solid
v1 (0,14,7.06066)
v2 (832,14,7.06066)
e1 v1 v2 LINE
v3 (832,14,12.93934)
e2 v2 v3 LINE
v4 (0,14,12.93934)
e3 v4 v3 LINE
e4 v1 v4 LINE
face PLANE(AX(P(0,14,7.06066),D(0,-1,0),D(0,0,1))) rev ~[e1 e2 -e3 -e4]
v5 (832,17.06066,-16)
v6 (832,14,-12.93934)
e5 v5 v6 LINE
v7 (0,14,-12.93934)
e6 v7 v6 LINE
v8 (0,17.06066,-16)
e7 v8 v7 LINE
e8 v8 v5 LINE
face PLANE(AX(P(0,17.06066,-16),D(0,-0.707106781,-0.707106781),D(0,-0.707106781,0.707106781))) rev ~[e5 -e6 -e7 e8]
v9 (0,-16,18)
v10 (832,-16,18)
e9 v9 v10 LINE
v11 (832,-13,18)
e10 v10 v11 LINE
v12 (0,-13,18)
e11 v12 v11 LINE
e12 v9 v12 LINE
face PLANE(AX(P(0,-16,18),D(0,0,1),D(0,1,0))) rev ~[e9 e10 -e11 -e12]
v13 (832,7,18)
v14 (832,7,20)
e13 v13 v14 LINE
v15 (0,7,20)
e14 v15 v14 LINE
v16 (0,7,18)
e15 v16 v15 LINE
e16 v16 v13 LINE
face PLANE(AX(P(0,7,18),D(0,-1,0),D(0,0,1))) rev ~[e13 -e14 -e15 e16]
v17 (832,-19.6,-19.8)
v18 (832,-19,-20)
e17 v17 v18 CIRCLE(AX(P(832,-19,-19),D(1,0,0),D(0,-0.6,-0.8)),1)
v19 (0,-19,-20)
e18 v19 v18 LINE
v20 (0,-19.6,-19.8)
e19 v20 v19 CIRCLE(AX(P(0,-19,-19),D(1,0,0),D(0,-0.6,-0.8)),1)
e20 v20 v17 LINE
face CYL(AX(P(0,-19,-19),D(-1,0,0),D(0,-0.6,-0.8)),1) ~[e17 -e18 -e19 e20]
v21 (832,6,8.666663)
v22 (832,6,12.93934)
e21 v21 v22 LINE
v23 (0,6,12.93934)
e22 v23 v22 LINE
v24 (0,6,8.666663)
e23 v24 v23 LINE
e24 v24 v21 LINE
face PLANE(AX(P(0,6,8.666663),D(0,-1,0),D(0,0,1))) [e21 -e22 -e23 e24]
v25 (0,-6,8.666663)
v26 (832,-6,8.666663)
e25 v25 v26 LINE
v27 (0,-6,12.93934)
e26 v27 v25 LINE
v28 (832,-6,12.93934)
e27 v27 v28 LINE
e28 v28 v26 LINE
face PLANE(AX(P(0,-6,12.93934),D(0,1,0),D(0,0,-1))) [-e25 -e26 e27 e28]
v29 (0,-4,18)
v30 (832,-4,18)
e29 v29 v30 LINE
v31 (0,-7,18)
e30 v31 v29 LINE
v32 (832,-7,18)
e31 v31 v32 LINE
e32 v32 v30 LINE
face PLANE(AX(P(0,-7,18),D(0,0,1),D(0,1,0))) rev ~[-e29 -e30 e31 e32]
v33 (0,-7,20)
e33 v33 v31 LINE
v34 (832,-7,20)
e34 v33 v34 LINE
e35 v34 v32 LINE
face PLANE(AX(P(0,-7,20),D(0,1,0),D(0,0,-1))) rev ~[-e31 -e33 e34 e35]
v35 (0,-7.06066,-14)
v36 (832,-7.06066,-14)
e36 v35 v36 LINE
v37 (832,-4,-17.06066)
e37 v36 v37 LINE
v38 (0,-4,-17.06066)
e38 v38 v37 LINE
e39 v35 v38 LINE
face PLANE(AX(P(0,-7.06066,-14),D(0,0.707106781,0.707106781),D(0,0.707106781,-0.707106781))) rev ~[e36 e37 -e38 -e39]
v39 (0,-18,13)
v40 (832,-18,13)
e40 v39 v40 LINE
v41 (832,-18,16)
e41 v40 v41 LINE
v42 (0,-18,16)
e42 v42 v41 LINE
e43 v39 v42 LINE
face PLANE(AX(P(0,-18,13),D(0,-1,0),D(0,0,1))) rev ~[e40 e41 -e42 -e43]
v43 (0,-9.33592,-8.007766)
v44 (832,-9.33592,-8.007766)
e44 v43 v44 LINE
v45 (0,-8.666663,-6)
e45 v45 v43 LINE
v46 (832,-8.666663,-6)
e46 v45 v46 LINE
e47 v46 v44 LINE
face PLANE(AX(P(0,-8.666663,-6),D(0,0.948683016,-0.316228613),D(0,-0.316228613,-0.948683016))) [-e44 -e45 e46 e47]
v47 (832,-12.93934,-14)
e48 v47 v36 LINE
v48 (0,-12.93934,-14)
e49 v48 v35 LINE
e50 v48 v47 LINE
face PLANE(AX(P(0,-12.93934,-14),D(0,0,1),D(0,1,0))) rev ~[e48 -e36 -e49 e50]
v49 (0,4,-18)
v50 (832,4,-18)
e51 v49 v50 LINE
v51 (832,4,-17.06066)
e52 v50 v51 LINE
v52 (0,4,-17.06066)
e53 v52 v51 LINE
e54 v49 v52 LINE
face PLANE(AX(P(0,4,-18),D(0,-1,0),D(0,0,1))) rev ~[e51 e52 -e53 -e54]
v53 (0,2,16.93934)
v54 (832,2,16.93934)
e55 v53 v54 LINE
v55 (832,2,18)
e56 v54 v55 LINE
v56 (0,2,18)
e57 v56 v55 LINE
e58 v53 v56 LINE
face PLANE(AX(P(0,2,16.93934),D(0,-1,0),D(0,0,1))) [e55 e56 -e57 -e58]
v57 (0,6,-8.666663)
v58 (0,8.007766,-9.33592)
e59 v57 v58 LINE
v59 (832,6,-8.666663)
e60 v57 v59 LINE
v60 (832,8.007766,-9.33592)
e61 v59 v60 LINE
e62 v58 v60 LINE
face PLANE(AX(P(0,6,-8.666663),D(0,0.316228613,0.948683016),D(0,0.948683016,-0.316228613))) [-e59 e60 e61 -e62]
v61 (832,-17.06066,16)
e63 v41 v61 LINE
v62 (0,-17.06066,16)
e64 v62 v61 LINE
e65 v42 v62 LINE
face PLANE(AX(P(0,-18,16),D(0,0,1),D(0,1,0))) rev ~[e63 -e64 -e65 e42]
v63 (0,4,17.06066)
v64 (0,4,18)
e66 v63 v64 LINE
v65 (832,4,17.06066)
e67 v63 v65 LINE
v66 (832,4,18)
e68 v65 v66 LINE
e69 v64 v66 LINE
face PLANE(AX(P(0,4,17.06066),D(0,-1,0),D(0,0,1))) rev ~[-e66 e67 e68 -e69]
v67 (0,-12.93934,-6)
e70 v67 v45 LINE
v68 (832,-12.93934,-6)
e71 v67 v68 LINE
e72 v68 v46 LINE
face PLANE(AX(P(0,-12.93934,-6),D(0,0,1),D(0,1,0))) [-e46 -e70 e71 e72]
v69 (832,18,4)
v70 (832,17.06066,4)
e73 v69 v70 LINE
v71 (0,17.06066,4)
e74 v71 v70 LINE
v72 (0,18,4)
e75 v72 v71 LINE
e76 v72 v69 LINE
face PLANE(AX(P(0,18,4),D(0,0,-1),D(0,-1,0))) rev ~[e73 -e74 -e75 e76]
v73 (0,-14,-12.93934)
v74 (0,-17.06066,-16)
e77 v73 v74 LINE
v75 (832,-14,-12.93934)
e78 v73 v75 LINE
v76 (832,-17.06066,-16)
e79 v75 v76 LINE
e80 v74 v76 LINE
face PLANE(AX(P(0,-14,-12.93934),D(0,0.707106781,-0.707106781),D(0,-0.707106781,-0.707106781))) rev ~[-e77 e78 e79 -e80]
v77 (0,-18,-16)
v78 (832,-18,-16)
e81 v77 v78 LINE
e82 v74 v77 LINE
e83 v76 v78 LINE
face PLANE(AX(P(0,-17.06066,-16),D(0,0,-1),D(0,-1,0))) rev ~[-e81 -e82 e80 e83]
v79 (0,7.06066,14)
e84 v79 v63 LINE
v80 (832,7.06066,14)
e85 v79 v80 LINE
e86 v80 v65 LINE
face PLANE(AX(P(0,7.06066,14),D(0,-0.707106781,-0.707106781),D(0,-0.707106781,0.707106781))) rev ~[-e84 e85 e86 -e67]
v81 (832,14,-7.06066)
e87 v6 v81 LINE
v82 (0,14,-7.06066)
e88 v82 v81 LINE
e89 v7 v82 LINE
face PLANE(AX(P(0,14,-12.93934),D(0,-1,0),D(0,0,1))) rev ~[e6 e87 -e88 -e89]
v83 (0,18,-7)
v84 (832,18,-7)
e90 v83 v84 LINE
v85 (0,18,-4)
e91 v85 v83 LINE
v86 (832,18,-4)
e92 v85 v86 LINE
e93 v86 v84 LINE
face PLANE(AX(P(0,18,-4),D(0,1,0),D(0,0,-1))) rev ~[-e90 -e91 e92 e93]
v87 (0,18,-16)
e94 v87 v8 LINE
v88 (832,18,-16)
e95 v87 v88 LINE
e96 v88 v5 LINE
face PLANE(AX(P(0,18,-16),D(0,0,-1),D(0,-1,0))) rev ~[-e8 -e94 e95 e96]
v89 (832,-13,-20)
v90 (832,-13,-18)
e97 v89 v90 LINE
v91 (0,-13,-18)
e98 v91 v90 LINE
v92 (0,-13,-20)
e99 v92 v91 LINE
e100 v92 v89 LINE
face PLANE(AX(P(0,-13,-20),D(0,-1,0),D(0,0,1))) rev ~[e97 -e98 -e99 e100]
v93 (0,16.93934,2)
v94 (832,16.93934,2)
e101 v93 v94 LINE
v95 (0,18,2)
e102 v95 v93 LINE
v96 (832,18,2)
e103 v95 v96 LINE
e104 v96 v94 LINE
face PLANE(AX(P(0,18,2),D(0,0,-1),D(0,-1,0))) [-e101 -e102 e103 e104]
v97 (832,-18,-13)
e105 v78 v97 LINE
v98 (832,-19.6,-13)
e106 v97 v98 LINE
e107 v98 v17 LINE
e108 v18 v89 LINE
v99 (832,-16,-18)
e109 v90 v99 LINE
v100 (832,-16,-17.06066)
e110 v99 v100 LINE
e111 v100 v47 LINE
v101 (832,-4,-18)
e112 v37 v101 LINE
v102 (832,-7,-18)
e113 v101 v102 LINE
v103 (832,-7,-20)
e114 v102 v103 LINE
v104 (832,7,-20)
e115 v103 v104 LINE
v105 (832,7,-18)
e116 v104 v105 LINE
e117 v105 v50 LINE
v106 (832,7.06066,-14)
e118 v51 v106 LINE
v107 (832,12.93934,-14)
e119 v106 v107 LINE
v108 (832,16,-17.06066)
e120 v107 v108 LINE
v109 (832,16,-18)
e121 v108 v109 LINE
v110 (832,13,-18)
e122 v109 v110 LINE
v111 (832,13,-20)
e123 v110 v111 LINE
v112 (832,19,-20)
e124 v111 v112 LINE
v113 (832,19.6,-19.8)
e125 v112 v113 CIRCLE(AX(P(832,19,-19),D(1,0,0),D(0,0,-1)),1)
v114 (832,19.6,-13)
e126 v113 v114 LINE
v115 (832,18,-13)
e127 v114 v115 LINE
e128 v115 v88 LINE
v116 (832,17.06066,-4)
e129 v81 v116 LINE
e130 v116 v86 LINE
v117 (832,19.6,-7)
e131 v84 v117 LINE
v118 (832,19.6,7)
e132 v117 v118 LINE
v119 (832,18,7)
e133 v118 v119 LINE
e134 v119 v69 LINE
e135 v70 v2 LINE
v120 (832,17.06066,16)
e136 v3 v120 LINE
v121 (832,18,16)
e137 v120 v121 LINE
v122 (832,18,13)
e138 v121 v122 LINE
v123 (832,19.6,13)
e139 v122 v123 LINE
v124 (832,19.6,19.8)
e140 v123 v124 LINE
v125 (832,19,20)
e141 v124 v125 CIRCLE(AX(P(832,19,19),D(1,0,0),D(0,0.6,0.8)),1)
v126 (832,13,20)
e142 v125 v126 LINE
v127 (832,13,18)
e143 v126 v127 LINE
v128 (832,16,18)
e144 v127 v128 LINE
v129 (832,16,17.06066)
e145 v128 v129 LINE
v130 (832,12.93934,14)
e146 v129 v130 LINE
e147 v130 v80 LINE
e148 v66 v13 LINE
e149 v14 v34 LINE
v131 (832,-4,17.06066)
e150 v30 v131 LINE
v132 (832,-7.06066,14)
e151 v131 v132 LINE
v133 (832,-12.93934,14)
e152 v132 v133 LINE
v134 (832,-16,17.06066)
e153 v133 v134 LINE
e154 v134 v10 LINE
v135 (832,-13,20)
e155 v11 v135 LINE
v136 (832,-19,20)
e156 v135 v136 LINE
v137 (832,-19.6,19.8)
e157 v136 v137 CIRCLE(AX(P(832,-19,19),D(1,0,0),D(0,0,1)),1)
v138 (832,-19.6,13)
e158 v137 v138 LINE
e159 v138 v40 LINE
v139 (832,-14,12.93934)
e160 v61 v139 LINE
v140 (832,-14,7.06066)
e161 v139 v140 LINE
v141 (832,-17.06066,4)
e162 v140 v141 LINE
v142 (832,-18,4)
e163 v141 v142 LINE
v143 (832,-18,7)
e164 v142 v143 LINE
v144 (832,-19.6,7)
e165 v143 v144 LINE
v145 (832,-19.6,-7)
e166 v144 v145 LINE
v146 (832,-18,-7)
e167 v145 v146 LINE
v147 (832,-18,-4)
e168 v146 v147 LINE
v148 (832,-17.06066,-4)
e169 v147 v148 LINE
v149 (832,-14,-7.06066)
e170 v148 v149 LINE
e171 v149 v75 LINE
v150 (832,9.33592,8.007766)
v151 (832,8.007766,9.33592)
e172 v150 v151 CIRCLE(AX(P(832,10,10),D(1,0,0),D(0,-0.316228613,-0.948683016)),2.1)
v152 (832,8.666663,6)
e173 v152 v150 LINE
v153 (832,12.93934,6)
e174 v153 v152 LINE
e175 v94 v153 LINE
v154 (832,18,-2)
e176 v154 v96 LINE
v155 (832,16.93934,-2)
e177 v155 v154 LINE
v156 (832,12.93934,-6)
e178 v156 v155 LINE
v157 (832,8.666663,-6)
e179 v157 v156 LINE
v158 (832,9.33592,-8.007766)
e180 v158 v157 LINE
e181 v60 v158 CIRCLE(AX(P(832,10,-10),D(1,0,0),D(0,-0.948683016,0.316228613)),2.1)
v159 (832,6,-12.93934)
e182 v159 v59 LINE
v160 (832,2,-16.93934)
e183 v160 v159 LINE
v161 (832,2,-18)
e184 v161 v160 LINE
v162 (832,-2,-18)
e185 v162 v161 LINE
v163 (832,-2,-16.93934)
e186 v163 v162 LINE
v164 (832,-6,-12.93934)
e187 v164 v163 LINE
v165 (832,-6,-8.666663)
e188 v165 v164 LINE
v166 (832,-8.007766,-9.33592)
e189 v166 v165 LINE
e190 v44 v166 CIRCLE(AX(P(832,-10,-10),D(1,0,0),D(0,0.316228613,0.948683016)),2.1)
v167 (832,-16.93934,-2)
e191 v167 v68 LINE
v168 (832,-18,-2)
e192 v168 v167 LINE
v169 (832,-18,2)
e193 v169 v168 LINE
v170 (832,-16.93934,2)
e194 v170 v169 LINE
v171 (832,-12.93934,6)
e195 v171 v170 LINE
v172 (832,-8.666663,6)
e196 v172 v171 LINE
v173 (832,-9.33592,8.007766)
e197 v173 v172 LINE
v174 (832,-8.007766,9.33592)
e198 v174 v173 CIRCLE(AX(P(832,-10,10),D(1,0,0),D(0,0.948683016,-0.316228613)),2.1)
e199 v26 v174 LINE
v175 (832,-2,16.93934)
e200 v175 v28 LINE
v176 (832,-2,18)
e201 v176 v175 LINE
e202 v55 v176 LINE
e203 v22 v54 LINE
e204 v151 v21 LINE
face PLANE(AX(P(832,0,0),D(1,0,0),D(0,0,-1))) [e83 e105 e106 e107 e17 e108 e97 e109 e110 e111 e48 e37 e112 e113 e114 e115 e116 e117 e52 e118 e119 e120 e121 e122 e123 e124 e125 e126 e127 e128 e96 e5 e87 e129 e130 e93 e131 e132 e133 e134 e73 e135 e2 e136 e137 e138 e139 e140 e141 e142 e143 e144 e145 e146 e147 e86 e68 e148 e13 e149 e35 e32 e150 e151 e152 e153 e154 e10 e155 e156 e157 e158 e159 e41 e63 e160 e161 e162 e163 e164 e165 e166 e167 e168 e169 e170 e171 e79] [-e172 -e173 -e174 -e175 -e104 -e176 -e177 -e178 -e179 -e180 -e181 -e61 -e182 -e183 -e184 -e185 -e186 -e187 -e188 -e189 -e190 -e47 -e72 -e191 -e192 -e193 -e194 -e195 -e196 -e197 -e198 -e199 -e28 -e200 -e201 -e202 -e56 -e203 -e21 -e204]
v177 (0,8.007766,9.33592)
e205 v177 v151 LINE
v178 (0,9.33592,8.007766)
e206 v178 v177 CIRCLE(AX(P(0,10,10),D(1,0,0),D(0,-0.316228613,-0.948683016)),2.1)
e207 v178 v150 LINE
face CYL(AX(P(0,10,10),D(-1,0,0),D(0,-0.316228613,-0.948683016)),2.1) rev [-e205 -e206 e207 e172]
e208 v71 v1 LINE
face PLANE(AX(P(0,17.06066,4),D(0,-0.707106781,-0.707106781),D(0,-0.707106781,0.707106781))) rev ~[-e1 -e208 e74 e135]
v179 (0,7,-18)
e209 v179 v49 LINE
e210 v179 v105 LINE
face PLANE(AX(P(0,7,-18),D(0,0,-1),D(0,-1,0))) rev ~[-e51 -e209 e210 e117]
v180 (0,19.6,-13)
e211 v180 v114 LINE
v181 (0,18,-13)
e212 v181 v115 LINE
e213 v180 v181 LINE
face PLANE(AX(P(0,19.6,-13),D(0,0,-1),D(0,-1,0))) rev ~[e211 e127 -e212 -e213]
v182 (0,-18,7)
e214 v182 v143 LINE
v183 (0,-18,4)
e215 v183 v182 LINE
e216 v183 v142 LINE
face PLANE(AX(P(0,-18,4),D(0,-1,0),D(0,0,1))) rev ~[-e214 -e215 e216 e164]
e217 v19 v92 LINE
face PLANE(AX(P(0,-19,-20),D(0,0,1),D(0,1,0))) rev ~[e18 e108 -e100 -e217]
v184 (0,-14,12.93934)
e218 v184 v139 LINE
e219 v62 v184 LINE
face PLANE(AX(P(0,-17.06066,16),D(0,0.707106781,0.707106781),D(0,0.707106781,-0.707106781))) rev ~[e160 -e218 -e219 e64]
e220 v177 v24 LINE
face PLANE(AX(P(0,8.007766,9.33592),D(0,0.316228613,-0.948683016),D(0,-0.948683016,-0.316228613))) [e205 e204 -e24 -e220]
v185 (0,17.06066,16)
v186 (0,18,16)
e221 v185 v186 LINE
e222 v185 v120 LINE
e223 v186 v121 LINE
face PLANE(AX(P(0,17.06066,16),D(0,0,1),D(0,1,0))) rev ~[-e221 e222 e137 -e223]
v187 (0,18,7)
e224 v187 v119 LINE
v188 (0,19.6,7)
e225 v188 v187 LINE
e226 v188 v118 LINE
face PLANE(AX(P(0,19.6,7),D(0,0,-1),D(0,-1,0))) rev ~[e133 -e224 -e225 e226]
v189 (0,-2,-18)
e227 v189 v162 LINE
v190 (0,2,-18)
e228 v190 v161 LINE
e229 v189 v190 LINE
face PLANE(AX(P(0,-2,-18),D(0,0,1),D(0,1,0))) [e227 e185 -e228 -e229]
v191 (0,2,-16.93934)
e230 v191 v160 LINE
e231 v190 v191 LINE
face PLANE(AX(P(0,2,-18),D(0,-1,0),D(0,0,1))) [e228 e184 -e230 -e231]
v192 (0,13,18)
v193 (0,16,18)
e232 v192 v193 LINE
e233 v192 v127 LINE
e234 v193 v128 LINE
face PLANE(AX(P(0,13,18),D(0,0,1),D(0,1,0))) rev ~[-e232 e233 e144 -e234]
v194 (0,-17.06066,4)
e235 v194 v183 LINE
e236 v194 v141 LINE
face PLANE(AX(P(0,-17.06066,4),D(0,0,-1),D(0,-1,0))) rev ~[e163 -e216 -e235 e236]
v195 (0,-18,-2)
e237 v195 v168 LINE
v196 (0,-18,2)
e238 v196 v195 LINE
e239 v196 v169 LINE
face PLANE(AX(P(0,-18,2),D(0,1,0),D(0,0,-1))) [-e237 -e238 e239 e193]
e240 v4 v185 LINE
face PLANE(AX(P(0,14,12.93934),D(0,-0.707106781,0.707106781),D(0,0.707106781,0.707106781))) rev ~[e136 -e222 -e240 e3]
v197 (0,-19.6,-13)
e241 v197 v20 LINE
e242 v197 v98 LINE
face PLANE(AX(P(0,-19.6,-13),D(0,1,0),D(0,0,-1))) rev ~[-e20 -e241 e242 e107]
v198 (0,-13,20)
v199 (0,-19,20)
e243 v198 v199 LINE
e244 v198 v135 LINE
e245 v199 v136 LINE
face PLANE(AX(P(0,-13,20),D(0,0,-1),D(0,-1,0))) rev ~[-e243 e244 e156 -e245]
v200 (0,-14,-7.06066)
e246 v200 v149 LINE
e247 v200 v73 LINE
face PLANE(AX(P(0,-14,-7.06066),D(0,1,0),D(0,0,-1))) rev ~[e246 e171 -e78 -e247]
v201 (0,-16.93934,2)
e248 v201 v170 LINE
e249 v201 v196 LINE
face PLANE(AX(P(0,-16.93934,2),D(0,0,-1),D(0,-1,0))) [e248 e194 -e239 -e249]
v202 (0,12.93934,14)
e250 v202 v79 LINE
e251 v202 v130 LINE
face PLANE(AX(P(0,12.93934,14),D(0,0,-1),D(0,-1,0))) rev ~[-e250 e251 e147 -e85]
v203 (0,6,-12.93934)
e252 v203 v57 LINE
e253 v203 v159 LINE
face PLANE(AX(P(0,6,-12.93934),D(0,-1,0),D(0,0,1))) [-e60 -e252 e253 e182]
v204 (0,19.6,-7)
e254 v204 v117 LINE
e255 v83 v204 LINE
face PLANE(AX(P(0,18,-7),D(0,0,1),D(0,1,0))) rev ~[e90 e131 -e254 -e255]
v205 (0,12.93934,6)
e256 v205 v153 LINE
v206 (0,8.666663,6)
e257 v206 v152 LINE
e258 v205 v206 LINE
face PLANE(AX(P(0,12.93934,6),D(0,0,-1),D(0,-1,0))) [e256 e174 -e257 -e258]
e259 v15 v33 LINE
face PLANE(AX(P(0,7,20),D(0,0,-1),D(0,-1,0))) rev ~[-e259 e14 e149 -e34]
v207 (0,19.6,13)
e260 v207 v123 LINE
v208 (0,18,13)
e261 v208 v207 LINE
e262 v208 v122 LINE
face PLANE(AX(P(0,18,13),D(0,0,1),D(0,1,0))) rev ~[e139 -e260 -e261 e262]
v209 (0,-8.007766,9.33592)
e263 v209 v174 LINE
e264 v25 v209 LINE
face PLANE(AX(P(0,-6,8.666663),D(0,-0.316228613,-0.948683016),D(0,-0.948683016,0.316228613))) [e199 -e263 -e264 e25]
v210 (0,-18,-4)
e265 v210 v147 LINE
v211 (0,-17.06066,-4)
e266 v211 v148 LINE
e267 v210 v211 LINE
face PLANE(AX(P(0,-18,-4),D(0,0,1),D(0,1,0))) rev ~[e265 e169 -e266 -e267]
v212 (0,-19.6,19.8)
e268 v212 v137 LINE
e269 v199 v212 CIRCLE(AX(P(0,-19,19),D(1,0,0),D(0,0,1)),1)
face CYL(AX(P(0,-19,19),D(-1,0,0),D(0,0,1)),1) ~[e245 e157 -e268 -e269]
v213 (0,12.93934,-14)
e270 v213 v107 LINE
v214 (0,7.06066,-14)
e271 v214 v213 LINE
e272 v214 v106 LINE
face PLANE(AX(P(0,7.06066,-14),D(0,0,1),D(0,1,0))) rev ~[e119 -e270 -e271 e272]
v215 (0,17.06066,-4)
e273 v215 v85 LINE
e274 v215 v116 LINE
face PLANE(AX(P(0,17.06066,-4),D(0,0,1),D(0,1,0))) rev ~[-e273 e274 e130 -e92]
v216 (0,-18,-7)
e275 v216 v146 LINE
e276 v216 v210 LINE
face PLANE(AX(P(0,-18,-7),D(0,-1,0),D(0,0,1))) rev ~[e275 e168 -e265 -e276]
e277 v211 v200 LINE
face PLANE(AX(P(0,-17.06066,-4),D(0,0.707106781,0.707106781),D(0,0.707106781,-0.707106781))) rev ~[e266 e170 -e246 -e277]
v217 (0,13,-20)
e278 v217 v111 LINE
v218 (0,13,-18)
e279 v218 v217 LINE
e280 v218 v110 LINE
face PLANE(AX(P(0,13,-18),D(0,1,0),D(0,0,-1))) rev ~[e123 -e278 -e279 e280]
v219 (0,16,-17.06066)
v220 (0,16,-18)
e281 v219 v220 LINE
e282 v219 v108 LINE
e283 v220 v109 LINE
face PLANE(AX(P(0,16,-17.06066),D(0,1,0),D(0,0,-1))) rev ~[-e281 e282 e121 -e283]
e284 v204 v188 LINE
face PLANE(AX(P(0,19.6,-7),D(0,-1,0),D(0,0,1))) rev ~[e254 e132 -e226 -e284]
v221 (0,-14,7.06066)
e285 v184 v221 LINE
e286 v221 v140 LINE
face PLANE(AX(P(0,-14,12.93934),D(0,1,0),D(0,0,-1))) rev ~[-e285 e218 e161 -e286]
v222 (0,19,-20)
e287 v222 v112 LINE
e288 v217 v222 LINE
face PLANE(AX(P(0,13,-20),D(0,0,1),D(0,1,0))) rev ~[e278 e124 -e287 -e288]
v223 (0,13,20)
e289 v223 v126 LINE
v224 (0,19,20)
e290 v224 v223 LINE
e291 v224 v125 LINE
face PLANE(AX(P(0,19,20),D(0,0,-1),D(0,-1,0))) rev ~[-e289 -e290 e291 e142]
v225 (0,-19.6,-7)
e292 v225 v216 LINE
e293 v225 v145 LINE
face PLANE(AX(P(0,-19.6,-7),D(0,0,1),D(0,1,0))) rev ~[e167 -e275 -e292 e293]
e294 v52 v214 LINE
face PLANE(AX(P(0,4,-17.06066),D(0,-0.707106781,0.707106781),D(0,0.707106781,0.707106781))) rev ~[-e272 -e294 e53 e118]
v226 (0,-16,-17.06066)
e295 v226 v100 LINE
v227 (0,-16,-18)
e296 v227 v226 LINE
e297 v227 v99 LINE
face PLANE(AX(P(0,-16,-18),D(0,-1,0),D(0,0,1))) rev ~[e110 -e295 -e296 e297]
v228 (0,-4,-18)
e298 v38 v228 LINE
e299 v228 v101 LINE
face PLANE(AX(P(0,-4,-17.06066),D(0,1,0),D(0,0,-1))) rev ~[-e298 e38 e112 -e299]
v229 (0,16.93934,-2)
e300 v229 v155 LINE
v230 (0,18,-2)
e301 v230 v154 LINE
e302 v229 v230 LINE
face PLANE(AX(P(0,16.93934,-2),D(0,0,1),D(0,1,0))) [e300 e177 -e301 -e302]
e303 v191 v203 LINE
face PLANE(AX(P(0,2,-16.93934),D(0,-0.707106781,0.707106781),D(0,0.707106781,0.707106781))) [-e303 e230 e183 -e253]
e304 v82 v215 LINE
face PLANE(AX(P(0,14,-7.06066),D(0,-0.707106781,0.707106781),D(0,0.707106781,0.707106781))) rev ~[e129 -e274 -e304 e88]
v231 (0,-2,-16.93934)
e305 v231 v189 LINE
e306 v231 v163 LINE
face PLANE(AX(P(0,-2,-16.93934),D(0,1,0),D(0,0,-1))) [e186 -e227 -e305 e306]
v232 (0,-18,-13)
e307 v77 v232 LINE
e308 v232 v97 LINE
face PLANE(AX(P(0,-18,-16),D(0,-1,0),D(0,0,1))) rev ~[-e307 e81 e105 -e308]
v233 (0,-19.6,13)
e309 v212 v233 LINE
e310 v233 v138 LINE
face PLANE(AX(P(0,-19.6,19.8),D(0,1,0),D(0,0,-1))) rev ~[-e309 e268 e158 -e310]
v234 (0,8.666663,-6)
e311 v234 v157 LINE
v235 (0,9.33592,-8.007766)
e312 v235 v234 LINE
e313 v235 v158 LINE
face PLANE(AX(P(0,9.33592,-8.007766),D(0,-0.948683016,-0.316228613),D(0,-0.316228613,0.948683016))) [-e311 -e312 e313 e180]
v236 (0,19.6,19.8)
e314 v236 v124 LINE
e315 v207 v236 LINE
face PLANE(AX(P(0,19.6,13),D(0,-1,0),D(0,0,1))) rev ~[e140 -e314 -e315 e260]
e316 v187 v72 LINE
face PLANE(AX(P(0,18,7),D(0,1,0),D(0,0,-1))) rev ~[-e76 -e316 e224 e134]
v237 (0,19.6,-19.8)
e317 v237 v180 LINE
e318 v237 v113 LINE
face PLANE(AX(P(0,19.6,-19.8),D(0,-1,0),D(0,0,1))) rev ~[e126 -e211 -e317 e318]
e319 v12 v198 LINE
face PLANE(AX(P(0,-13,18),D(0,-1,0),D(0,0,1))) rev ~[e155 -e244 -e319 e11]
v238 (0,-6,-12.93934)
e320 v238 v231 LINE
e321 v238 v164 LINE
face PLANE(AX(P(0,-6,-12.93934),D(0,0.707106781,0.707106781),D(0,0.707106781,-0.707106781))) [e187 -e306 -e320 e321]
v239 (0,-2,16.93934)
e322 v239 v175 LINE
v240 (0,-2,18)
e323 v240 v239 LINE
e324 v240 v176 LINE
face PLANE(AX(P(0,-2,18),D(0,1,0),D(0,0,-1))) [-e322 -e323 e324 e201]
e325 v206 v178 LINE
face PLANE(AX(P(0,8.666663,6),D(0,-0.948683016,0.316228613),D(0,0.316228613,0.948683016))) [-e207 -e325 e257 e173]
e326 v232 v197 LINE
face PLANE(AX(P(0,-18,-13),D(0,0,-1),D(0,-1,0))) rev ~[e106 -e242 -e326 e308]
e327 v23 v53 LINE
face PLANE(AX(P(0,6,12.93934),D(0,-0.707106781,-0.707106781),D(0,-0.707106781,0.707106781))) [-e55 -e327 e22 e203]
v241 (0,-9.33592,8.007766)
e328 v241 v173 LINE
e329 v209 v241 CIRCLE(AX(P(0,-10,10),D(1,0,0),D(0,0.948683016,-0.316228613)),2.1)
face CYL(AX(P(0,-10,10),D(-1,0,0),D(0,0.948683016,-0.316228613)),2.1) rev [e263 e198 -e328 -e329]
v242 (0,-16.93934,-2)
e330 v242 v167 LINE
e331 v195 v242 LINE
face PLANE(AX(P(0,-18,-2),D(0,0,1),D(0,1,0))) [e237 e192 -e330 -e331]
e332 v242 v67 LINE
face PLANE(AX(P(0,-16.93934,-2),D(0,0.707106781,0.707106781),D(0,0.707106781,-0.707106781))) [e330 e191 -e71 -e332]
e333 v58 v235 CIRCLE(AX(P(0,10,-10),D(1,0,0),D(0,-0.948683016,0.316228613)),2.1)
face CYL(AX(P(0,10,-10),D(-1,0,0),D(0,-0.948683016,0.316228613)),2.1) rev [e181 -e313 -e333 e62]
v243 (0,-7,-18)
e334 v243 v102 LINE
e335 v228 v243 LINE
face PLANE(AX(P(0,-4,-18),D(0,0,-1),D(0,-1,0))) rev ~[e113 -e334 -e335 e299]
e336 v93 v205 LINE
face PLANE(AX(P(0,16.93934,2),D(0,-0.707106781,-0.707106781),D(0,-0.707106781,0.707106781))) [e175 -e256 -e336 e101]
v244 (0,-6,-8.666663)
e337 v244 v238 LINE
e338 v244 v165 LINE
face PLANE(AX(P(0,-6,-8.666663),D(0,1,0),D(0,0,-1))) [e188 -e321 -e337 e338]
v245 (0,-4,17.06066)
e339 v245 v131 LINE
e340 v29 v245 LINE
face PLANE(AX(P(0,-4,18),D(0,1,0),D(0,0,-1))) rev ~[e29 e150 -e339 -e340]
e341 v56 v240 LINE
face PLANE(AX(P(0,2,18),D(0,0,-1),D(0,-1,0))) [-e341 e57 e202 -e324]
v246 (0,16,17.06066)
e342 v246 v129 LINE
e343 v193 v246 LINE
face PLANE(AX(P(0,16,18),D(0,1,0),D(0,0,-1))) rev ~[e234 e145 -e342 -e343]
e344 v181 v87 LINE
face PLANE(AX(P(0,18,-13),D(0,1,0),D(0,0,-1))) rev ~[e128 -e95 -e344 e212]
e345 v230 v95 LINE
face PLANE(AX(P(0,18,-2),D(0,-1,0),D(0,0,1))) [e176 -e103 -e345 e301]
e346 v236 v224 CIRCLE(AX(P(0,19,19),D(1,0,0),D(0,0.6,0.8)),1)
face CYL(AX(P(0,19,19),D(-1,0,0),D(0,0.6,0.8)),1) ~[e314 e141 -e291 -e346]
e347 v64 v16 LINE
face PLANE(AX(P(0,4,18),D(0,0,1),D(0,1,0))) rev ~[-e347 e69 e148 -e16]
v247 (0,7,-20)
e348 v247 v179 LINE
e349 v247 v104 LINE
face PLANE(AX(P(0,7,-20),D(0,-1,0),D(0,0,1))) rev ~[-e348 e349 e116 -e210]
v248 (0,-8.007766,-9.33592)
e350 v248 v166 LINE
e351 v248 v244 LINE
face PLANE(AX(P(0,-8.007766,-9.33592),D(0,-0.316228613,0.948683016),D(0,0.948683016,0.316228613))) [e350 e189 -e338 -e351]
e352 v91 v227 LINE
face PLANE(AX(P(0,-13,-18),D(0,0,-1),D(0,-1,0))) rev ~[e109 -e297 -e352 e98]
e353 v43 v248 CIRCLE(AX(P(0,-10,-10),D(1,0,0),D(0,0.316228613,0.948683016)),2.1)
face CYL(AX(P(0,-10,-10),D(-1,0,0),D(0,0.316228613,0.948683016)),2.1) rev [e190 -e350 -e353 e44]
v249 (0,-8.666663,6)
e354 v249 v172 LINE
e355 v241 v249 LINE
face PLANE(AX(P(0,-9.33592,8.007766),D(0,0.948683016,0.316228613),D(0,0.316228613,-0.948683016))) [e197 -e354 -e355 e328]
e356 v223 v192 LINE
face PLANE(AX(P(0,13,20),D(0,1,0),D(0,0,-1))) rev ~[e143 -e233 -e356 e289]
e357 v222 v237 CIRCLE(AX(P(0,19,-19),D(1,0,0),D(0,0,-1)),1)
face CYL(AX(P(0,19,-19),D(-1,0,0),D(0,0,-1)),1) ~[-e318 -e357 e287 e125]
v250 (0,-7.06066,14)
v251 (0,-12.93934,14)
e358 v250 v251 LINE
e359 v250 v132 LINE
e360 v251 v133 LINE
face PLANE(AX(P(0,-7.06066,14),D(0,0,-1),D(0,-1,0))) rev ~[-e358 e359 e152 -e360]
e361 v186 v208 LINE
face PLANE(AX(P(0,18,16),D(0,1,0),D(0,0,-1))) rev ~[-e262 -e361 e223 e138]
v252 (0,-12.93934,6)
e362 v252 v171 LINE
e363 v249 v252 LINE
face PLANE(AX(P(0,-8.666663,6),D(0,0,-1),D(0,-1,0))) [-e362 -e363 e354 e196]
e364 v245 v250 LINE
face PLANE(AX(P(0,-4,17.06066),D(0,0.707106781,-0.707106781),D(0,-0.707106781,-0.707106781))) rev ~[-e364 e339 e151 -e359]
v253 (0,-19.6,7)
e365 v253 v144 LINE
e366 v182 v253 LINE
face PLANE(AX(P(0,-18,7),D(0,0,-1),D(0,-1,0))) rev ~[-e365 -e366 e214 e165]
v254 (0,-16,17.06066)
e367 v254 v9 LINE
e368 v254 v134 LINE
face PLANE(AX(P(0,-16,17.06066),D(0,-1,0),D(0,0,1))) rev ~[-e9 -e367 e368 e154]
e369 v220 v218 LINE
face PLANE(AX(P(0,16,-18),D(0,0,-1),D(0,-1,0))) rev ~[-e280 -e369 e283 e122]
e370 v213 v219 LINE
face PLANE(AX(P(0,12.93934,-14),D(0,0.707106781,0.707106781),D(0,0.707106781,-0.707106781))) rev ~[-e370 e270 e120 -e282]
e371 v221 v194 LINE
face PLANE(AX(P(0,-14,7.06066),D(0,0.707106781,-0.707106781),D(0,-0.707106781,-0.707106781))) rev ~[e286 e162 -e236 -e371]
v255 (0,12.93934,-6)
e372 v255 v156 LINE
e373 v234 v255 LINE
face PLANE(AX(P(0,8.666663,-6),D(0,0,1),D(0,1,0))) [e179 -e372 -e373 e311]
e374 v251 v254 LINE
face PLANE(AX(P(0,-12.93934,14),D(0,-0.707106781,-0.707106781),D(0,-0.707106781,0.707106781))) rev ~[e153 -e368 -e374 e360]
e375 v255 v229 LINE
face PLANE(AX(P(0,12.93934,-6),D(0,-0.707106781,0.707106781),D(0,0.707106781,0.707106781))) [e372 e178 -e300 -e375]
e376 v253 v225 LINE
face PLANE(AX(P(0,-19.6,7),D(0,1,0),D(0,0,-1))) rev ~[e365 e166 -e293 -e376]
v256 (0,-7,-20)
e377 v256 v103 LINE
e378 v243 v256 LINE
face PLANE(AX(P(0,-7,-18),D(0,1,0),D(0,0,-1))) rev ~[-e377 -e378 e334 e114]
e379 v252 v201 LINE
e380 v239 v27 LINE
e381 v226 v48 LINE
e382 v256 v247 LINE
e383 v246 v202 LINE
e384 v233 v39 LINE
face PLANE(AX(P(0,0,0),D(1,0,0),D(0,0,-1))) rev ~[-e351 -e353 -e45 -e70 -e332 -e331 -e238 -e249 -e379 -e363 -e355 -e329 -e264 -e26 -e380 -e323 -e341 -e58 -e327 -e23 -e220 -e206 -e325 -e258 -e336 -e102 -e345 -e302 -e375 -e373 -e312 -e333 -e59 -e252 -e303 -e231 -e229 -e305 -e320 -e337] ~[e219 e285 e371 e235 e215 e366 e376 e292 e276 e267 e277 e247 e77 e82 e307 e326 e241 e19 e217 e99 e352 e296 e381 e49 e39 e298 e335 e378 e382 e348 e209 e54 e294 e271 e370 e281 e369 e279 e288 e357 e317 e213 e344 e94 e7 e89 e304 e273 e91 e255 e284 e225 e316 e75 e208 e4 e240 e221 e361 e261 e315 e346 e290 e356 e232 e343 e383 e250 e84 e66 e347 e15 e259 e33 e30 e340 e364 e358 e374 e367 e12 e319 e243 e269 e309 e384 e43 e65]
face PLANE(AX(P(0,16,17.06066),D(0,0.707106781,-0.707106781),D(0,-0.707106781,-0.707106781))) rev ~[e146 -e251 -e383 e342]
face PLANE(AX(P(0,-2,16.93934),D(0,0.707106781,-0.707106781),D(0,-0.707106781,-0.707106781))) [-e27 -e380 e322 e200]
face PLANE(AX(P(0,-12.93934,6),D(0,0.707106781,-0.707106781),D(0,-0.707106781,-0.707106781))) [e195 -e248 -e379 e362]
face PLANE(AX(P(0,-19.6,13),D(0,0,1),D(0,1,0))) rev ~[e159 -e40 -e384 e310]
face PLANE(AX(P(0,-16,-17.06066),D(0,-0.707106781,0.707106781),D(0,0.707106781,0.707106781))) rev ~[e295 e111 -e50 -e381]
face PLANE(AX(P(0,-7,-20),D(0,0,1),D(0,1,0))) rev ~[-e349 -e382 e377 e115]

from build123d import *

# Parameters (mm, degrees)
BOSS_EXTRUDE1_DEPTH = 832


with BuildPart() as part:
    # Sketch1 → Boss-Extrude1 (new body)
    with BuildSketch(Plane(origin=(0, 0, 0), x_dir=(0, 0, -1), z_dir=(1, 0, 0))):
        with BuildLine():
            Line((-20, 19), (-20, 13))
            Line((-20, 13), (-18, 13))
            Line((-18, 13), (-18, 16))
            Line((-18, 16), (-17.060660172, 16))
            Line((-17.060660172, 16), (-14, 12.939339828))
            Line((-14, 12.939339828), (-14, 7.060660172))
            Line((-14, 7.060660172), (-17.060660172, 4))
            Line((-17.060660172, 4), (-18, 4))
            Line((-18, 4), (-18, 7))
            Line((-18, 7), (-20, 7))
            Line((-20, 7), (-20, -7))
            Line((-20, -7), (-18, -7))
            Line((-18, -7), (-18, -4))
            Line((-18, -4), (-17.060660172, -4))
            Line((-17.060660172, -4), (-14, -7.060660172))
            Line((-14, -7.060660172), (-14, -12.939339828))
            Line((-14, -12.939339828), (-17.060660172, -16))
            Line((-17.060660172, -16), (-18, -16))
            Line((-18, -16), (-18, -13))
            Line((-18, -13), (-20, -13))
            Line((-20, -13), (-20, -19))
            ThreePointArc((-20, -19), (-19.948683298, -19.316227766), (-19.8, -19.6))
            Line((-19.8, -19.6), (-13, -19.6))
            Line((-13, -19.6), (-13, -18))
            Line((-13, -18), (-16, -18))
            Line((-16, -18), (-16, -17.060660172))
            Line((-16, -17.060660172), (-12.939339828, -14))
            Line((-12.939339828, -14), (-7.060660172, -14))
            Line((-7.060660172, -14), (-4, -17.060660172))
            Line((-4, -17.060660172), (-4, -18))
            Line((-4, -18), (-7, -18))
            Line((-7, -18), (-7, -19.6))
            Line((-7, -19.6), (7, -19.6))
            Line((7, -19.6), (7, -18))
            Line((7, -18), (4, -18))
            Line((4, -18), (4, -17.060660172))
            Line((4, -17.060660172), (7.060660172, -14))
            Line((7.060660172, -14), (12.939339828, -14))
            Line((12.939339828, -14), (16, -17.060660172))
            Line((16, -17.060660172), (16, -18))
            Line((16, -18), (13, -18))
            Line((13, -18), (13, -19.6))
            Line((13, -19.6), (19.8, -19.6))
            ThreePointArc((19.8, -19.6), (19.948683298, -19.316227766), (20, -19))
            Line((20, -19), (20, -13))
            Line((20, -13), (18, -13))
            Line((18, -13), (18, -16))
            Line((18, -16), (17.060660172, -16))
            Line((17.060660172, -16), (14, -12.939339828))
            Line((14, -12.939339828), (14, -7.060660172))
            Line((14, -7.060660172), (17.060660172, -4))
            Line((17.060660172, -4), (18, -4))
            Line((18, -4), (18, -7))
            Line((18, -7), (20, -7))
            Line((20, -7), (20, 7))
            Line((20, 7), (18, 7))
            Line((18, 7), (18, 4))
            Line((18, 4), (17.060660172, 4))
            Line((17.060660172, 4), (14, 7.060660172))
            Line((14, 7.060660172), (14, 12.939339828))
            Line((14, 12.939339828), (17.060660172, 16))
            Line((17.060660172, 16), (18, 16))
            Line((18, 16), (18, 13))
            Line((18, 13), (20, 13))
            Line((20, 13), (20, 19))
            ThreePointArc((20, 19), (19.948683298, 19.316227766), (19.8, 19.6))
            Line((19.8, 19.6), (13, 19.6))
            Line((13, 19.6), (13, 18))
            Line((13, 18), (16, 18))
            Line((16, 18), (16, 17.060660172))
            Line((16, 17.060660172), (12.939339828, 14))
            Line((12.939339828, 14), (7.060660172, 14))
            Line((7.060660172, 14), (4, 17.060660172))
            Line((4, 17.060660172), (4, 18))
            Line((4, 18), (7, 18))
            Line((7, 18), (7, 19.6))
            Line((7, 19.6), (-7, 19.6))
            Line((-7, 19.6), (-7, 18))
            Line((-7, 18), (-4, 18))
            Line((-4, 18), (-4, 17.060660172))
            Line((-4, 17.060660172), (-7.060660172, 14))
            Line((-7.060660172, 14), (-12.939339828, 14))
            Line((-12.939339828, 14), (-16, 17.060660172))
            Line((-16, 17.060660172), (-16, 18))
            Line((-16, 18), (-13, 18))
            Line((-13, 18), (-13, 19.6))
            Line((-13, 19.6), (-19.8, 19.6))
            ThreePointArc((-19.8, 19.6), (-19.948683298, 19.316227766), (-20, 19))
        make_face()
        with BuildLine():
            Line((-16.939339828, 2), (-18, 2))
            Line((-18, 2), (-18, -2))
            Line((-18, -2), (-16.939339828, -2))
            Line((-16.939339828, -2), (-12.939339828, -6))
            Line((-12.939339828, -6), (-8.666662697, -6))
            Line((-8.666662697, -6), (-9.335919912, -8.007765667))
            ThreePointArc((-9.335919912, -8.007765667), (-11.48492424, -11.48492424), (-8.007765667, -9.335919912))
            Line((-8.007765667, -9.335919912), (-6, -8.666662697))
            Line((-6, -8.666662697), (-6, -12.939339828))
            Line((-6, -12.939339828), (-2, -16.939339828))
            Line((-2, -16.939339828), (-2, -18))
            Line((-2, -18), (2, -18))
            Line((2, -18), (2, -16.939339828))
            Line((2, -16.939339828), (6, -12.939339828))
            Line((6, -12.939339828), (6, -8.666662697))
            Line((6, -8.666662697), (8.007765667, -9.335919912))
            ThreePointArc((8.007765667, -9.335919912), (11.48492424, -11.48492424), (9.335919912, -8.007765667))
            Line((9.335919912, -8.007765667), (8.666662697, -6))
            Line((8.666662697, -6), (12.939339828, -6))
            Line((12.939339828, -6), (16.939339828, -2))
            Line((16.939339828, -2), (18, -2))
            Line((18, -2), (18, 2))
            Line((18, 2), (16.939339828, 2))
            Line((16.939339828, 2), (12.939339828, 6))
            Line((12.939339828, 6), (8.666662697, 6))
            Line((8.666662697, 6), (9.335919912, 8.007765667))
            ThreePointArc((9.335919912, 8.007765667), (11.48492424, 11.48492424), (8.007765667, 9.335919912))
            Line((8.007765667, 9.335919912), (6, 8.666662697))
            Line((6, 8.666662697), (6, 12.939339828))
            Line((6, 12.939339828), (2, 16.939339828))
            Line((2, 16.939339828), (2, 18))
            Line((2, 18), (-2, 18))
            Line((-2, 18), (-2, 16.939339828))
            Line((-2, 16.939339828), (-6, 12.939339828))
            Line((-6, 12.939339828), (-6, 8.666662697))
            Line((-6, 8.666662697), (-8.007765667, 9.335919912))
            ThreePointArc((-8.007765667, 9.335919912), (-11.48492424, 11.48492424), (-9.335919912, 8.007765667))
            Line((-9.335919912, 8.007765667), (-8.666662697, 6))
            Line((-8.666662697, 6), (-12.939339828, 6))
            Line((-12.939339828, 6), (-16.939339828, 2))
        make_face(mode=Mode.SUBTRACT)
    extrude(amount=BOSS_EXTRUDE1_DEPTH)


solid = part.part
